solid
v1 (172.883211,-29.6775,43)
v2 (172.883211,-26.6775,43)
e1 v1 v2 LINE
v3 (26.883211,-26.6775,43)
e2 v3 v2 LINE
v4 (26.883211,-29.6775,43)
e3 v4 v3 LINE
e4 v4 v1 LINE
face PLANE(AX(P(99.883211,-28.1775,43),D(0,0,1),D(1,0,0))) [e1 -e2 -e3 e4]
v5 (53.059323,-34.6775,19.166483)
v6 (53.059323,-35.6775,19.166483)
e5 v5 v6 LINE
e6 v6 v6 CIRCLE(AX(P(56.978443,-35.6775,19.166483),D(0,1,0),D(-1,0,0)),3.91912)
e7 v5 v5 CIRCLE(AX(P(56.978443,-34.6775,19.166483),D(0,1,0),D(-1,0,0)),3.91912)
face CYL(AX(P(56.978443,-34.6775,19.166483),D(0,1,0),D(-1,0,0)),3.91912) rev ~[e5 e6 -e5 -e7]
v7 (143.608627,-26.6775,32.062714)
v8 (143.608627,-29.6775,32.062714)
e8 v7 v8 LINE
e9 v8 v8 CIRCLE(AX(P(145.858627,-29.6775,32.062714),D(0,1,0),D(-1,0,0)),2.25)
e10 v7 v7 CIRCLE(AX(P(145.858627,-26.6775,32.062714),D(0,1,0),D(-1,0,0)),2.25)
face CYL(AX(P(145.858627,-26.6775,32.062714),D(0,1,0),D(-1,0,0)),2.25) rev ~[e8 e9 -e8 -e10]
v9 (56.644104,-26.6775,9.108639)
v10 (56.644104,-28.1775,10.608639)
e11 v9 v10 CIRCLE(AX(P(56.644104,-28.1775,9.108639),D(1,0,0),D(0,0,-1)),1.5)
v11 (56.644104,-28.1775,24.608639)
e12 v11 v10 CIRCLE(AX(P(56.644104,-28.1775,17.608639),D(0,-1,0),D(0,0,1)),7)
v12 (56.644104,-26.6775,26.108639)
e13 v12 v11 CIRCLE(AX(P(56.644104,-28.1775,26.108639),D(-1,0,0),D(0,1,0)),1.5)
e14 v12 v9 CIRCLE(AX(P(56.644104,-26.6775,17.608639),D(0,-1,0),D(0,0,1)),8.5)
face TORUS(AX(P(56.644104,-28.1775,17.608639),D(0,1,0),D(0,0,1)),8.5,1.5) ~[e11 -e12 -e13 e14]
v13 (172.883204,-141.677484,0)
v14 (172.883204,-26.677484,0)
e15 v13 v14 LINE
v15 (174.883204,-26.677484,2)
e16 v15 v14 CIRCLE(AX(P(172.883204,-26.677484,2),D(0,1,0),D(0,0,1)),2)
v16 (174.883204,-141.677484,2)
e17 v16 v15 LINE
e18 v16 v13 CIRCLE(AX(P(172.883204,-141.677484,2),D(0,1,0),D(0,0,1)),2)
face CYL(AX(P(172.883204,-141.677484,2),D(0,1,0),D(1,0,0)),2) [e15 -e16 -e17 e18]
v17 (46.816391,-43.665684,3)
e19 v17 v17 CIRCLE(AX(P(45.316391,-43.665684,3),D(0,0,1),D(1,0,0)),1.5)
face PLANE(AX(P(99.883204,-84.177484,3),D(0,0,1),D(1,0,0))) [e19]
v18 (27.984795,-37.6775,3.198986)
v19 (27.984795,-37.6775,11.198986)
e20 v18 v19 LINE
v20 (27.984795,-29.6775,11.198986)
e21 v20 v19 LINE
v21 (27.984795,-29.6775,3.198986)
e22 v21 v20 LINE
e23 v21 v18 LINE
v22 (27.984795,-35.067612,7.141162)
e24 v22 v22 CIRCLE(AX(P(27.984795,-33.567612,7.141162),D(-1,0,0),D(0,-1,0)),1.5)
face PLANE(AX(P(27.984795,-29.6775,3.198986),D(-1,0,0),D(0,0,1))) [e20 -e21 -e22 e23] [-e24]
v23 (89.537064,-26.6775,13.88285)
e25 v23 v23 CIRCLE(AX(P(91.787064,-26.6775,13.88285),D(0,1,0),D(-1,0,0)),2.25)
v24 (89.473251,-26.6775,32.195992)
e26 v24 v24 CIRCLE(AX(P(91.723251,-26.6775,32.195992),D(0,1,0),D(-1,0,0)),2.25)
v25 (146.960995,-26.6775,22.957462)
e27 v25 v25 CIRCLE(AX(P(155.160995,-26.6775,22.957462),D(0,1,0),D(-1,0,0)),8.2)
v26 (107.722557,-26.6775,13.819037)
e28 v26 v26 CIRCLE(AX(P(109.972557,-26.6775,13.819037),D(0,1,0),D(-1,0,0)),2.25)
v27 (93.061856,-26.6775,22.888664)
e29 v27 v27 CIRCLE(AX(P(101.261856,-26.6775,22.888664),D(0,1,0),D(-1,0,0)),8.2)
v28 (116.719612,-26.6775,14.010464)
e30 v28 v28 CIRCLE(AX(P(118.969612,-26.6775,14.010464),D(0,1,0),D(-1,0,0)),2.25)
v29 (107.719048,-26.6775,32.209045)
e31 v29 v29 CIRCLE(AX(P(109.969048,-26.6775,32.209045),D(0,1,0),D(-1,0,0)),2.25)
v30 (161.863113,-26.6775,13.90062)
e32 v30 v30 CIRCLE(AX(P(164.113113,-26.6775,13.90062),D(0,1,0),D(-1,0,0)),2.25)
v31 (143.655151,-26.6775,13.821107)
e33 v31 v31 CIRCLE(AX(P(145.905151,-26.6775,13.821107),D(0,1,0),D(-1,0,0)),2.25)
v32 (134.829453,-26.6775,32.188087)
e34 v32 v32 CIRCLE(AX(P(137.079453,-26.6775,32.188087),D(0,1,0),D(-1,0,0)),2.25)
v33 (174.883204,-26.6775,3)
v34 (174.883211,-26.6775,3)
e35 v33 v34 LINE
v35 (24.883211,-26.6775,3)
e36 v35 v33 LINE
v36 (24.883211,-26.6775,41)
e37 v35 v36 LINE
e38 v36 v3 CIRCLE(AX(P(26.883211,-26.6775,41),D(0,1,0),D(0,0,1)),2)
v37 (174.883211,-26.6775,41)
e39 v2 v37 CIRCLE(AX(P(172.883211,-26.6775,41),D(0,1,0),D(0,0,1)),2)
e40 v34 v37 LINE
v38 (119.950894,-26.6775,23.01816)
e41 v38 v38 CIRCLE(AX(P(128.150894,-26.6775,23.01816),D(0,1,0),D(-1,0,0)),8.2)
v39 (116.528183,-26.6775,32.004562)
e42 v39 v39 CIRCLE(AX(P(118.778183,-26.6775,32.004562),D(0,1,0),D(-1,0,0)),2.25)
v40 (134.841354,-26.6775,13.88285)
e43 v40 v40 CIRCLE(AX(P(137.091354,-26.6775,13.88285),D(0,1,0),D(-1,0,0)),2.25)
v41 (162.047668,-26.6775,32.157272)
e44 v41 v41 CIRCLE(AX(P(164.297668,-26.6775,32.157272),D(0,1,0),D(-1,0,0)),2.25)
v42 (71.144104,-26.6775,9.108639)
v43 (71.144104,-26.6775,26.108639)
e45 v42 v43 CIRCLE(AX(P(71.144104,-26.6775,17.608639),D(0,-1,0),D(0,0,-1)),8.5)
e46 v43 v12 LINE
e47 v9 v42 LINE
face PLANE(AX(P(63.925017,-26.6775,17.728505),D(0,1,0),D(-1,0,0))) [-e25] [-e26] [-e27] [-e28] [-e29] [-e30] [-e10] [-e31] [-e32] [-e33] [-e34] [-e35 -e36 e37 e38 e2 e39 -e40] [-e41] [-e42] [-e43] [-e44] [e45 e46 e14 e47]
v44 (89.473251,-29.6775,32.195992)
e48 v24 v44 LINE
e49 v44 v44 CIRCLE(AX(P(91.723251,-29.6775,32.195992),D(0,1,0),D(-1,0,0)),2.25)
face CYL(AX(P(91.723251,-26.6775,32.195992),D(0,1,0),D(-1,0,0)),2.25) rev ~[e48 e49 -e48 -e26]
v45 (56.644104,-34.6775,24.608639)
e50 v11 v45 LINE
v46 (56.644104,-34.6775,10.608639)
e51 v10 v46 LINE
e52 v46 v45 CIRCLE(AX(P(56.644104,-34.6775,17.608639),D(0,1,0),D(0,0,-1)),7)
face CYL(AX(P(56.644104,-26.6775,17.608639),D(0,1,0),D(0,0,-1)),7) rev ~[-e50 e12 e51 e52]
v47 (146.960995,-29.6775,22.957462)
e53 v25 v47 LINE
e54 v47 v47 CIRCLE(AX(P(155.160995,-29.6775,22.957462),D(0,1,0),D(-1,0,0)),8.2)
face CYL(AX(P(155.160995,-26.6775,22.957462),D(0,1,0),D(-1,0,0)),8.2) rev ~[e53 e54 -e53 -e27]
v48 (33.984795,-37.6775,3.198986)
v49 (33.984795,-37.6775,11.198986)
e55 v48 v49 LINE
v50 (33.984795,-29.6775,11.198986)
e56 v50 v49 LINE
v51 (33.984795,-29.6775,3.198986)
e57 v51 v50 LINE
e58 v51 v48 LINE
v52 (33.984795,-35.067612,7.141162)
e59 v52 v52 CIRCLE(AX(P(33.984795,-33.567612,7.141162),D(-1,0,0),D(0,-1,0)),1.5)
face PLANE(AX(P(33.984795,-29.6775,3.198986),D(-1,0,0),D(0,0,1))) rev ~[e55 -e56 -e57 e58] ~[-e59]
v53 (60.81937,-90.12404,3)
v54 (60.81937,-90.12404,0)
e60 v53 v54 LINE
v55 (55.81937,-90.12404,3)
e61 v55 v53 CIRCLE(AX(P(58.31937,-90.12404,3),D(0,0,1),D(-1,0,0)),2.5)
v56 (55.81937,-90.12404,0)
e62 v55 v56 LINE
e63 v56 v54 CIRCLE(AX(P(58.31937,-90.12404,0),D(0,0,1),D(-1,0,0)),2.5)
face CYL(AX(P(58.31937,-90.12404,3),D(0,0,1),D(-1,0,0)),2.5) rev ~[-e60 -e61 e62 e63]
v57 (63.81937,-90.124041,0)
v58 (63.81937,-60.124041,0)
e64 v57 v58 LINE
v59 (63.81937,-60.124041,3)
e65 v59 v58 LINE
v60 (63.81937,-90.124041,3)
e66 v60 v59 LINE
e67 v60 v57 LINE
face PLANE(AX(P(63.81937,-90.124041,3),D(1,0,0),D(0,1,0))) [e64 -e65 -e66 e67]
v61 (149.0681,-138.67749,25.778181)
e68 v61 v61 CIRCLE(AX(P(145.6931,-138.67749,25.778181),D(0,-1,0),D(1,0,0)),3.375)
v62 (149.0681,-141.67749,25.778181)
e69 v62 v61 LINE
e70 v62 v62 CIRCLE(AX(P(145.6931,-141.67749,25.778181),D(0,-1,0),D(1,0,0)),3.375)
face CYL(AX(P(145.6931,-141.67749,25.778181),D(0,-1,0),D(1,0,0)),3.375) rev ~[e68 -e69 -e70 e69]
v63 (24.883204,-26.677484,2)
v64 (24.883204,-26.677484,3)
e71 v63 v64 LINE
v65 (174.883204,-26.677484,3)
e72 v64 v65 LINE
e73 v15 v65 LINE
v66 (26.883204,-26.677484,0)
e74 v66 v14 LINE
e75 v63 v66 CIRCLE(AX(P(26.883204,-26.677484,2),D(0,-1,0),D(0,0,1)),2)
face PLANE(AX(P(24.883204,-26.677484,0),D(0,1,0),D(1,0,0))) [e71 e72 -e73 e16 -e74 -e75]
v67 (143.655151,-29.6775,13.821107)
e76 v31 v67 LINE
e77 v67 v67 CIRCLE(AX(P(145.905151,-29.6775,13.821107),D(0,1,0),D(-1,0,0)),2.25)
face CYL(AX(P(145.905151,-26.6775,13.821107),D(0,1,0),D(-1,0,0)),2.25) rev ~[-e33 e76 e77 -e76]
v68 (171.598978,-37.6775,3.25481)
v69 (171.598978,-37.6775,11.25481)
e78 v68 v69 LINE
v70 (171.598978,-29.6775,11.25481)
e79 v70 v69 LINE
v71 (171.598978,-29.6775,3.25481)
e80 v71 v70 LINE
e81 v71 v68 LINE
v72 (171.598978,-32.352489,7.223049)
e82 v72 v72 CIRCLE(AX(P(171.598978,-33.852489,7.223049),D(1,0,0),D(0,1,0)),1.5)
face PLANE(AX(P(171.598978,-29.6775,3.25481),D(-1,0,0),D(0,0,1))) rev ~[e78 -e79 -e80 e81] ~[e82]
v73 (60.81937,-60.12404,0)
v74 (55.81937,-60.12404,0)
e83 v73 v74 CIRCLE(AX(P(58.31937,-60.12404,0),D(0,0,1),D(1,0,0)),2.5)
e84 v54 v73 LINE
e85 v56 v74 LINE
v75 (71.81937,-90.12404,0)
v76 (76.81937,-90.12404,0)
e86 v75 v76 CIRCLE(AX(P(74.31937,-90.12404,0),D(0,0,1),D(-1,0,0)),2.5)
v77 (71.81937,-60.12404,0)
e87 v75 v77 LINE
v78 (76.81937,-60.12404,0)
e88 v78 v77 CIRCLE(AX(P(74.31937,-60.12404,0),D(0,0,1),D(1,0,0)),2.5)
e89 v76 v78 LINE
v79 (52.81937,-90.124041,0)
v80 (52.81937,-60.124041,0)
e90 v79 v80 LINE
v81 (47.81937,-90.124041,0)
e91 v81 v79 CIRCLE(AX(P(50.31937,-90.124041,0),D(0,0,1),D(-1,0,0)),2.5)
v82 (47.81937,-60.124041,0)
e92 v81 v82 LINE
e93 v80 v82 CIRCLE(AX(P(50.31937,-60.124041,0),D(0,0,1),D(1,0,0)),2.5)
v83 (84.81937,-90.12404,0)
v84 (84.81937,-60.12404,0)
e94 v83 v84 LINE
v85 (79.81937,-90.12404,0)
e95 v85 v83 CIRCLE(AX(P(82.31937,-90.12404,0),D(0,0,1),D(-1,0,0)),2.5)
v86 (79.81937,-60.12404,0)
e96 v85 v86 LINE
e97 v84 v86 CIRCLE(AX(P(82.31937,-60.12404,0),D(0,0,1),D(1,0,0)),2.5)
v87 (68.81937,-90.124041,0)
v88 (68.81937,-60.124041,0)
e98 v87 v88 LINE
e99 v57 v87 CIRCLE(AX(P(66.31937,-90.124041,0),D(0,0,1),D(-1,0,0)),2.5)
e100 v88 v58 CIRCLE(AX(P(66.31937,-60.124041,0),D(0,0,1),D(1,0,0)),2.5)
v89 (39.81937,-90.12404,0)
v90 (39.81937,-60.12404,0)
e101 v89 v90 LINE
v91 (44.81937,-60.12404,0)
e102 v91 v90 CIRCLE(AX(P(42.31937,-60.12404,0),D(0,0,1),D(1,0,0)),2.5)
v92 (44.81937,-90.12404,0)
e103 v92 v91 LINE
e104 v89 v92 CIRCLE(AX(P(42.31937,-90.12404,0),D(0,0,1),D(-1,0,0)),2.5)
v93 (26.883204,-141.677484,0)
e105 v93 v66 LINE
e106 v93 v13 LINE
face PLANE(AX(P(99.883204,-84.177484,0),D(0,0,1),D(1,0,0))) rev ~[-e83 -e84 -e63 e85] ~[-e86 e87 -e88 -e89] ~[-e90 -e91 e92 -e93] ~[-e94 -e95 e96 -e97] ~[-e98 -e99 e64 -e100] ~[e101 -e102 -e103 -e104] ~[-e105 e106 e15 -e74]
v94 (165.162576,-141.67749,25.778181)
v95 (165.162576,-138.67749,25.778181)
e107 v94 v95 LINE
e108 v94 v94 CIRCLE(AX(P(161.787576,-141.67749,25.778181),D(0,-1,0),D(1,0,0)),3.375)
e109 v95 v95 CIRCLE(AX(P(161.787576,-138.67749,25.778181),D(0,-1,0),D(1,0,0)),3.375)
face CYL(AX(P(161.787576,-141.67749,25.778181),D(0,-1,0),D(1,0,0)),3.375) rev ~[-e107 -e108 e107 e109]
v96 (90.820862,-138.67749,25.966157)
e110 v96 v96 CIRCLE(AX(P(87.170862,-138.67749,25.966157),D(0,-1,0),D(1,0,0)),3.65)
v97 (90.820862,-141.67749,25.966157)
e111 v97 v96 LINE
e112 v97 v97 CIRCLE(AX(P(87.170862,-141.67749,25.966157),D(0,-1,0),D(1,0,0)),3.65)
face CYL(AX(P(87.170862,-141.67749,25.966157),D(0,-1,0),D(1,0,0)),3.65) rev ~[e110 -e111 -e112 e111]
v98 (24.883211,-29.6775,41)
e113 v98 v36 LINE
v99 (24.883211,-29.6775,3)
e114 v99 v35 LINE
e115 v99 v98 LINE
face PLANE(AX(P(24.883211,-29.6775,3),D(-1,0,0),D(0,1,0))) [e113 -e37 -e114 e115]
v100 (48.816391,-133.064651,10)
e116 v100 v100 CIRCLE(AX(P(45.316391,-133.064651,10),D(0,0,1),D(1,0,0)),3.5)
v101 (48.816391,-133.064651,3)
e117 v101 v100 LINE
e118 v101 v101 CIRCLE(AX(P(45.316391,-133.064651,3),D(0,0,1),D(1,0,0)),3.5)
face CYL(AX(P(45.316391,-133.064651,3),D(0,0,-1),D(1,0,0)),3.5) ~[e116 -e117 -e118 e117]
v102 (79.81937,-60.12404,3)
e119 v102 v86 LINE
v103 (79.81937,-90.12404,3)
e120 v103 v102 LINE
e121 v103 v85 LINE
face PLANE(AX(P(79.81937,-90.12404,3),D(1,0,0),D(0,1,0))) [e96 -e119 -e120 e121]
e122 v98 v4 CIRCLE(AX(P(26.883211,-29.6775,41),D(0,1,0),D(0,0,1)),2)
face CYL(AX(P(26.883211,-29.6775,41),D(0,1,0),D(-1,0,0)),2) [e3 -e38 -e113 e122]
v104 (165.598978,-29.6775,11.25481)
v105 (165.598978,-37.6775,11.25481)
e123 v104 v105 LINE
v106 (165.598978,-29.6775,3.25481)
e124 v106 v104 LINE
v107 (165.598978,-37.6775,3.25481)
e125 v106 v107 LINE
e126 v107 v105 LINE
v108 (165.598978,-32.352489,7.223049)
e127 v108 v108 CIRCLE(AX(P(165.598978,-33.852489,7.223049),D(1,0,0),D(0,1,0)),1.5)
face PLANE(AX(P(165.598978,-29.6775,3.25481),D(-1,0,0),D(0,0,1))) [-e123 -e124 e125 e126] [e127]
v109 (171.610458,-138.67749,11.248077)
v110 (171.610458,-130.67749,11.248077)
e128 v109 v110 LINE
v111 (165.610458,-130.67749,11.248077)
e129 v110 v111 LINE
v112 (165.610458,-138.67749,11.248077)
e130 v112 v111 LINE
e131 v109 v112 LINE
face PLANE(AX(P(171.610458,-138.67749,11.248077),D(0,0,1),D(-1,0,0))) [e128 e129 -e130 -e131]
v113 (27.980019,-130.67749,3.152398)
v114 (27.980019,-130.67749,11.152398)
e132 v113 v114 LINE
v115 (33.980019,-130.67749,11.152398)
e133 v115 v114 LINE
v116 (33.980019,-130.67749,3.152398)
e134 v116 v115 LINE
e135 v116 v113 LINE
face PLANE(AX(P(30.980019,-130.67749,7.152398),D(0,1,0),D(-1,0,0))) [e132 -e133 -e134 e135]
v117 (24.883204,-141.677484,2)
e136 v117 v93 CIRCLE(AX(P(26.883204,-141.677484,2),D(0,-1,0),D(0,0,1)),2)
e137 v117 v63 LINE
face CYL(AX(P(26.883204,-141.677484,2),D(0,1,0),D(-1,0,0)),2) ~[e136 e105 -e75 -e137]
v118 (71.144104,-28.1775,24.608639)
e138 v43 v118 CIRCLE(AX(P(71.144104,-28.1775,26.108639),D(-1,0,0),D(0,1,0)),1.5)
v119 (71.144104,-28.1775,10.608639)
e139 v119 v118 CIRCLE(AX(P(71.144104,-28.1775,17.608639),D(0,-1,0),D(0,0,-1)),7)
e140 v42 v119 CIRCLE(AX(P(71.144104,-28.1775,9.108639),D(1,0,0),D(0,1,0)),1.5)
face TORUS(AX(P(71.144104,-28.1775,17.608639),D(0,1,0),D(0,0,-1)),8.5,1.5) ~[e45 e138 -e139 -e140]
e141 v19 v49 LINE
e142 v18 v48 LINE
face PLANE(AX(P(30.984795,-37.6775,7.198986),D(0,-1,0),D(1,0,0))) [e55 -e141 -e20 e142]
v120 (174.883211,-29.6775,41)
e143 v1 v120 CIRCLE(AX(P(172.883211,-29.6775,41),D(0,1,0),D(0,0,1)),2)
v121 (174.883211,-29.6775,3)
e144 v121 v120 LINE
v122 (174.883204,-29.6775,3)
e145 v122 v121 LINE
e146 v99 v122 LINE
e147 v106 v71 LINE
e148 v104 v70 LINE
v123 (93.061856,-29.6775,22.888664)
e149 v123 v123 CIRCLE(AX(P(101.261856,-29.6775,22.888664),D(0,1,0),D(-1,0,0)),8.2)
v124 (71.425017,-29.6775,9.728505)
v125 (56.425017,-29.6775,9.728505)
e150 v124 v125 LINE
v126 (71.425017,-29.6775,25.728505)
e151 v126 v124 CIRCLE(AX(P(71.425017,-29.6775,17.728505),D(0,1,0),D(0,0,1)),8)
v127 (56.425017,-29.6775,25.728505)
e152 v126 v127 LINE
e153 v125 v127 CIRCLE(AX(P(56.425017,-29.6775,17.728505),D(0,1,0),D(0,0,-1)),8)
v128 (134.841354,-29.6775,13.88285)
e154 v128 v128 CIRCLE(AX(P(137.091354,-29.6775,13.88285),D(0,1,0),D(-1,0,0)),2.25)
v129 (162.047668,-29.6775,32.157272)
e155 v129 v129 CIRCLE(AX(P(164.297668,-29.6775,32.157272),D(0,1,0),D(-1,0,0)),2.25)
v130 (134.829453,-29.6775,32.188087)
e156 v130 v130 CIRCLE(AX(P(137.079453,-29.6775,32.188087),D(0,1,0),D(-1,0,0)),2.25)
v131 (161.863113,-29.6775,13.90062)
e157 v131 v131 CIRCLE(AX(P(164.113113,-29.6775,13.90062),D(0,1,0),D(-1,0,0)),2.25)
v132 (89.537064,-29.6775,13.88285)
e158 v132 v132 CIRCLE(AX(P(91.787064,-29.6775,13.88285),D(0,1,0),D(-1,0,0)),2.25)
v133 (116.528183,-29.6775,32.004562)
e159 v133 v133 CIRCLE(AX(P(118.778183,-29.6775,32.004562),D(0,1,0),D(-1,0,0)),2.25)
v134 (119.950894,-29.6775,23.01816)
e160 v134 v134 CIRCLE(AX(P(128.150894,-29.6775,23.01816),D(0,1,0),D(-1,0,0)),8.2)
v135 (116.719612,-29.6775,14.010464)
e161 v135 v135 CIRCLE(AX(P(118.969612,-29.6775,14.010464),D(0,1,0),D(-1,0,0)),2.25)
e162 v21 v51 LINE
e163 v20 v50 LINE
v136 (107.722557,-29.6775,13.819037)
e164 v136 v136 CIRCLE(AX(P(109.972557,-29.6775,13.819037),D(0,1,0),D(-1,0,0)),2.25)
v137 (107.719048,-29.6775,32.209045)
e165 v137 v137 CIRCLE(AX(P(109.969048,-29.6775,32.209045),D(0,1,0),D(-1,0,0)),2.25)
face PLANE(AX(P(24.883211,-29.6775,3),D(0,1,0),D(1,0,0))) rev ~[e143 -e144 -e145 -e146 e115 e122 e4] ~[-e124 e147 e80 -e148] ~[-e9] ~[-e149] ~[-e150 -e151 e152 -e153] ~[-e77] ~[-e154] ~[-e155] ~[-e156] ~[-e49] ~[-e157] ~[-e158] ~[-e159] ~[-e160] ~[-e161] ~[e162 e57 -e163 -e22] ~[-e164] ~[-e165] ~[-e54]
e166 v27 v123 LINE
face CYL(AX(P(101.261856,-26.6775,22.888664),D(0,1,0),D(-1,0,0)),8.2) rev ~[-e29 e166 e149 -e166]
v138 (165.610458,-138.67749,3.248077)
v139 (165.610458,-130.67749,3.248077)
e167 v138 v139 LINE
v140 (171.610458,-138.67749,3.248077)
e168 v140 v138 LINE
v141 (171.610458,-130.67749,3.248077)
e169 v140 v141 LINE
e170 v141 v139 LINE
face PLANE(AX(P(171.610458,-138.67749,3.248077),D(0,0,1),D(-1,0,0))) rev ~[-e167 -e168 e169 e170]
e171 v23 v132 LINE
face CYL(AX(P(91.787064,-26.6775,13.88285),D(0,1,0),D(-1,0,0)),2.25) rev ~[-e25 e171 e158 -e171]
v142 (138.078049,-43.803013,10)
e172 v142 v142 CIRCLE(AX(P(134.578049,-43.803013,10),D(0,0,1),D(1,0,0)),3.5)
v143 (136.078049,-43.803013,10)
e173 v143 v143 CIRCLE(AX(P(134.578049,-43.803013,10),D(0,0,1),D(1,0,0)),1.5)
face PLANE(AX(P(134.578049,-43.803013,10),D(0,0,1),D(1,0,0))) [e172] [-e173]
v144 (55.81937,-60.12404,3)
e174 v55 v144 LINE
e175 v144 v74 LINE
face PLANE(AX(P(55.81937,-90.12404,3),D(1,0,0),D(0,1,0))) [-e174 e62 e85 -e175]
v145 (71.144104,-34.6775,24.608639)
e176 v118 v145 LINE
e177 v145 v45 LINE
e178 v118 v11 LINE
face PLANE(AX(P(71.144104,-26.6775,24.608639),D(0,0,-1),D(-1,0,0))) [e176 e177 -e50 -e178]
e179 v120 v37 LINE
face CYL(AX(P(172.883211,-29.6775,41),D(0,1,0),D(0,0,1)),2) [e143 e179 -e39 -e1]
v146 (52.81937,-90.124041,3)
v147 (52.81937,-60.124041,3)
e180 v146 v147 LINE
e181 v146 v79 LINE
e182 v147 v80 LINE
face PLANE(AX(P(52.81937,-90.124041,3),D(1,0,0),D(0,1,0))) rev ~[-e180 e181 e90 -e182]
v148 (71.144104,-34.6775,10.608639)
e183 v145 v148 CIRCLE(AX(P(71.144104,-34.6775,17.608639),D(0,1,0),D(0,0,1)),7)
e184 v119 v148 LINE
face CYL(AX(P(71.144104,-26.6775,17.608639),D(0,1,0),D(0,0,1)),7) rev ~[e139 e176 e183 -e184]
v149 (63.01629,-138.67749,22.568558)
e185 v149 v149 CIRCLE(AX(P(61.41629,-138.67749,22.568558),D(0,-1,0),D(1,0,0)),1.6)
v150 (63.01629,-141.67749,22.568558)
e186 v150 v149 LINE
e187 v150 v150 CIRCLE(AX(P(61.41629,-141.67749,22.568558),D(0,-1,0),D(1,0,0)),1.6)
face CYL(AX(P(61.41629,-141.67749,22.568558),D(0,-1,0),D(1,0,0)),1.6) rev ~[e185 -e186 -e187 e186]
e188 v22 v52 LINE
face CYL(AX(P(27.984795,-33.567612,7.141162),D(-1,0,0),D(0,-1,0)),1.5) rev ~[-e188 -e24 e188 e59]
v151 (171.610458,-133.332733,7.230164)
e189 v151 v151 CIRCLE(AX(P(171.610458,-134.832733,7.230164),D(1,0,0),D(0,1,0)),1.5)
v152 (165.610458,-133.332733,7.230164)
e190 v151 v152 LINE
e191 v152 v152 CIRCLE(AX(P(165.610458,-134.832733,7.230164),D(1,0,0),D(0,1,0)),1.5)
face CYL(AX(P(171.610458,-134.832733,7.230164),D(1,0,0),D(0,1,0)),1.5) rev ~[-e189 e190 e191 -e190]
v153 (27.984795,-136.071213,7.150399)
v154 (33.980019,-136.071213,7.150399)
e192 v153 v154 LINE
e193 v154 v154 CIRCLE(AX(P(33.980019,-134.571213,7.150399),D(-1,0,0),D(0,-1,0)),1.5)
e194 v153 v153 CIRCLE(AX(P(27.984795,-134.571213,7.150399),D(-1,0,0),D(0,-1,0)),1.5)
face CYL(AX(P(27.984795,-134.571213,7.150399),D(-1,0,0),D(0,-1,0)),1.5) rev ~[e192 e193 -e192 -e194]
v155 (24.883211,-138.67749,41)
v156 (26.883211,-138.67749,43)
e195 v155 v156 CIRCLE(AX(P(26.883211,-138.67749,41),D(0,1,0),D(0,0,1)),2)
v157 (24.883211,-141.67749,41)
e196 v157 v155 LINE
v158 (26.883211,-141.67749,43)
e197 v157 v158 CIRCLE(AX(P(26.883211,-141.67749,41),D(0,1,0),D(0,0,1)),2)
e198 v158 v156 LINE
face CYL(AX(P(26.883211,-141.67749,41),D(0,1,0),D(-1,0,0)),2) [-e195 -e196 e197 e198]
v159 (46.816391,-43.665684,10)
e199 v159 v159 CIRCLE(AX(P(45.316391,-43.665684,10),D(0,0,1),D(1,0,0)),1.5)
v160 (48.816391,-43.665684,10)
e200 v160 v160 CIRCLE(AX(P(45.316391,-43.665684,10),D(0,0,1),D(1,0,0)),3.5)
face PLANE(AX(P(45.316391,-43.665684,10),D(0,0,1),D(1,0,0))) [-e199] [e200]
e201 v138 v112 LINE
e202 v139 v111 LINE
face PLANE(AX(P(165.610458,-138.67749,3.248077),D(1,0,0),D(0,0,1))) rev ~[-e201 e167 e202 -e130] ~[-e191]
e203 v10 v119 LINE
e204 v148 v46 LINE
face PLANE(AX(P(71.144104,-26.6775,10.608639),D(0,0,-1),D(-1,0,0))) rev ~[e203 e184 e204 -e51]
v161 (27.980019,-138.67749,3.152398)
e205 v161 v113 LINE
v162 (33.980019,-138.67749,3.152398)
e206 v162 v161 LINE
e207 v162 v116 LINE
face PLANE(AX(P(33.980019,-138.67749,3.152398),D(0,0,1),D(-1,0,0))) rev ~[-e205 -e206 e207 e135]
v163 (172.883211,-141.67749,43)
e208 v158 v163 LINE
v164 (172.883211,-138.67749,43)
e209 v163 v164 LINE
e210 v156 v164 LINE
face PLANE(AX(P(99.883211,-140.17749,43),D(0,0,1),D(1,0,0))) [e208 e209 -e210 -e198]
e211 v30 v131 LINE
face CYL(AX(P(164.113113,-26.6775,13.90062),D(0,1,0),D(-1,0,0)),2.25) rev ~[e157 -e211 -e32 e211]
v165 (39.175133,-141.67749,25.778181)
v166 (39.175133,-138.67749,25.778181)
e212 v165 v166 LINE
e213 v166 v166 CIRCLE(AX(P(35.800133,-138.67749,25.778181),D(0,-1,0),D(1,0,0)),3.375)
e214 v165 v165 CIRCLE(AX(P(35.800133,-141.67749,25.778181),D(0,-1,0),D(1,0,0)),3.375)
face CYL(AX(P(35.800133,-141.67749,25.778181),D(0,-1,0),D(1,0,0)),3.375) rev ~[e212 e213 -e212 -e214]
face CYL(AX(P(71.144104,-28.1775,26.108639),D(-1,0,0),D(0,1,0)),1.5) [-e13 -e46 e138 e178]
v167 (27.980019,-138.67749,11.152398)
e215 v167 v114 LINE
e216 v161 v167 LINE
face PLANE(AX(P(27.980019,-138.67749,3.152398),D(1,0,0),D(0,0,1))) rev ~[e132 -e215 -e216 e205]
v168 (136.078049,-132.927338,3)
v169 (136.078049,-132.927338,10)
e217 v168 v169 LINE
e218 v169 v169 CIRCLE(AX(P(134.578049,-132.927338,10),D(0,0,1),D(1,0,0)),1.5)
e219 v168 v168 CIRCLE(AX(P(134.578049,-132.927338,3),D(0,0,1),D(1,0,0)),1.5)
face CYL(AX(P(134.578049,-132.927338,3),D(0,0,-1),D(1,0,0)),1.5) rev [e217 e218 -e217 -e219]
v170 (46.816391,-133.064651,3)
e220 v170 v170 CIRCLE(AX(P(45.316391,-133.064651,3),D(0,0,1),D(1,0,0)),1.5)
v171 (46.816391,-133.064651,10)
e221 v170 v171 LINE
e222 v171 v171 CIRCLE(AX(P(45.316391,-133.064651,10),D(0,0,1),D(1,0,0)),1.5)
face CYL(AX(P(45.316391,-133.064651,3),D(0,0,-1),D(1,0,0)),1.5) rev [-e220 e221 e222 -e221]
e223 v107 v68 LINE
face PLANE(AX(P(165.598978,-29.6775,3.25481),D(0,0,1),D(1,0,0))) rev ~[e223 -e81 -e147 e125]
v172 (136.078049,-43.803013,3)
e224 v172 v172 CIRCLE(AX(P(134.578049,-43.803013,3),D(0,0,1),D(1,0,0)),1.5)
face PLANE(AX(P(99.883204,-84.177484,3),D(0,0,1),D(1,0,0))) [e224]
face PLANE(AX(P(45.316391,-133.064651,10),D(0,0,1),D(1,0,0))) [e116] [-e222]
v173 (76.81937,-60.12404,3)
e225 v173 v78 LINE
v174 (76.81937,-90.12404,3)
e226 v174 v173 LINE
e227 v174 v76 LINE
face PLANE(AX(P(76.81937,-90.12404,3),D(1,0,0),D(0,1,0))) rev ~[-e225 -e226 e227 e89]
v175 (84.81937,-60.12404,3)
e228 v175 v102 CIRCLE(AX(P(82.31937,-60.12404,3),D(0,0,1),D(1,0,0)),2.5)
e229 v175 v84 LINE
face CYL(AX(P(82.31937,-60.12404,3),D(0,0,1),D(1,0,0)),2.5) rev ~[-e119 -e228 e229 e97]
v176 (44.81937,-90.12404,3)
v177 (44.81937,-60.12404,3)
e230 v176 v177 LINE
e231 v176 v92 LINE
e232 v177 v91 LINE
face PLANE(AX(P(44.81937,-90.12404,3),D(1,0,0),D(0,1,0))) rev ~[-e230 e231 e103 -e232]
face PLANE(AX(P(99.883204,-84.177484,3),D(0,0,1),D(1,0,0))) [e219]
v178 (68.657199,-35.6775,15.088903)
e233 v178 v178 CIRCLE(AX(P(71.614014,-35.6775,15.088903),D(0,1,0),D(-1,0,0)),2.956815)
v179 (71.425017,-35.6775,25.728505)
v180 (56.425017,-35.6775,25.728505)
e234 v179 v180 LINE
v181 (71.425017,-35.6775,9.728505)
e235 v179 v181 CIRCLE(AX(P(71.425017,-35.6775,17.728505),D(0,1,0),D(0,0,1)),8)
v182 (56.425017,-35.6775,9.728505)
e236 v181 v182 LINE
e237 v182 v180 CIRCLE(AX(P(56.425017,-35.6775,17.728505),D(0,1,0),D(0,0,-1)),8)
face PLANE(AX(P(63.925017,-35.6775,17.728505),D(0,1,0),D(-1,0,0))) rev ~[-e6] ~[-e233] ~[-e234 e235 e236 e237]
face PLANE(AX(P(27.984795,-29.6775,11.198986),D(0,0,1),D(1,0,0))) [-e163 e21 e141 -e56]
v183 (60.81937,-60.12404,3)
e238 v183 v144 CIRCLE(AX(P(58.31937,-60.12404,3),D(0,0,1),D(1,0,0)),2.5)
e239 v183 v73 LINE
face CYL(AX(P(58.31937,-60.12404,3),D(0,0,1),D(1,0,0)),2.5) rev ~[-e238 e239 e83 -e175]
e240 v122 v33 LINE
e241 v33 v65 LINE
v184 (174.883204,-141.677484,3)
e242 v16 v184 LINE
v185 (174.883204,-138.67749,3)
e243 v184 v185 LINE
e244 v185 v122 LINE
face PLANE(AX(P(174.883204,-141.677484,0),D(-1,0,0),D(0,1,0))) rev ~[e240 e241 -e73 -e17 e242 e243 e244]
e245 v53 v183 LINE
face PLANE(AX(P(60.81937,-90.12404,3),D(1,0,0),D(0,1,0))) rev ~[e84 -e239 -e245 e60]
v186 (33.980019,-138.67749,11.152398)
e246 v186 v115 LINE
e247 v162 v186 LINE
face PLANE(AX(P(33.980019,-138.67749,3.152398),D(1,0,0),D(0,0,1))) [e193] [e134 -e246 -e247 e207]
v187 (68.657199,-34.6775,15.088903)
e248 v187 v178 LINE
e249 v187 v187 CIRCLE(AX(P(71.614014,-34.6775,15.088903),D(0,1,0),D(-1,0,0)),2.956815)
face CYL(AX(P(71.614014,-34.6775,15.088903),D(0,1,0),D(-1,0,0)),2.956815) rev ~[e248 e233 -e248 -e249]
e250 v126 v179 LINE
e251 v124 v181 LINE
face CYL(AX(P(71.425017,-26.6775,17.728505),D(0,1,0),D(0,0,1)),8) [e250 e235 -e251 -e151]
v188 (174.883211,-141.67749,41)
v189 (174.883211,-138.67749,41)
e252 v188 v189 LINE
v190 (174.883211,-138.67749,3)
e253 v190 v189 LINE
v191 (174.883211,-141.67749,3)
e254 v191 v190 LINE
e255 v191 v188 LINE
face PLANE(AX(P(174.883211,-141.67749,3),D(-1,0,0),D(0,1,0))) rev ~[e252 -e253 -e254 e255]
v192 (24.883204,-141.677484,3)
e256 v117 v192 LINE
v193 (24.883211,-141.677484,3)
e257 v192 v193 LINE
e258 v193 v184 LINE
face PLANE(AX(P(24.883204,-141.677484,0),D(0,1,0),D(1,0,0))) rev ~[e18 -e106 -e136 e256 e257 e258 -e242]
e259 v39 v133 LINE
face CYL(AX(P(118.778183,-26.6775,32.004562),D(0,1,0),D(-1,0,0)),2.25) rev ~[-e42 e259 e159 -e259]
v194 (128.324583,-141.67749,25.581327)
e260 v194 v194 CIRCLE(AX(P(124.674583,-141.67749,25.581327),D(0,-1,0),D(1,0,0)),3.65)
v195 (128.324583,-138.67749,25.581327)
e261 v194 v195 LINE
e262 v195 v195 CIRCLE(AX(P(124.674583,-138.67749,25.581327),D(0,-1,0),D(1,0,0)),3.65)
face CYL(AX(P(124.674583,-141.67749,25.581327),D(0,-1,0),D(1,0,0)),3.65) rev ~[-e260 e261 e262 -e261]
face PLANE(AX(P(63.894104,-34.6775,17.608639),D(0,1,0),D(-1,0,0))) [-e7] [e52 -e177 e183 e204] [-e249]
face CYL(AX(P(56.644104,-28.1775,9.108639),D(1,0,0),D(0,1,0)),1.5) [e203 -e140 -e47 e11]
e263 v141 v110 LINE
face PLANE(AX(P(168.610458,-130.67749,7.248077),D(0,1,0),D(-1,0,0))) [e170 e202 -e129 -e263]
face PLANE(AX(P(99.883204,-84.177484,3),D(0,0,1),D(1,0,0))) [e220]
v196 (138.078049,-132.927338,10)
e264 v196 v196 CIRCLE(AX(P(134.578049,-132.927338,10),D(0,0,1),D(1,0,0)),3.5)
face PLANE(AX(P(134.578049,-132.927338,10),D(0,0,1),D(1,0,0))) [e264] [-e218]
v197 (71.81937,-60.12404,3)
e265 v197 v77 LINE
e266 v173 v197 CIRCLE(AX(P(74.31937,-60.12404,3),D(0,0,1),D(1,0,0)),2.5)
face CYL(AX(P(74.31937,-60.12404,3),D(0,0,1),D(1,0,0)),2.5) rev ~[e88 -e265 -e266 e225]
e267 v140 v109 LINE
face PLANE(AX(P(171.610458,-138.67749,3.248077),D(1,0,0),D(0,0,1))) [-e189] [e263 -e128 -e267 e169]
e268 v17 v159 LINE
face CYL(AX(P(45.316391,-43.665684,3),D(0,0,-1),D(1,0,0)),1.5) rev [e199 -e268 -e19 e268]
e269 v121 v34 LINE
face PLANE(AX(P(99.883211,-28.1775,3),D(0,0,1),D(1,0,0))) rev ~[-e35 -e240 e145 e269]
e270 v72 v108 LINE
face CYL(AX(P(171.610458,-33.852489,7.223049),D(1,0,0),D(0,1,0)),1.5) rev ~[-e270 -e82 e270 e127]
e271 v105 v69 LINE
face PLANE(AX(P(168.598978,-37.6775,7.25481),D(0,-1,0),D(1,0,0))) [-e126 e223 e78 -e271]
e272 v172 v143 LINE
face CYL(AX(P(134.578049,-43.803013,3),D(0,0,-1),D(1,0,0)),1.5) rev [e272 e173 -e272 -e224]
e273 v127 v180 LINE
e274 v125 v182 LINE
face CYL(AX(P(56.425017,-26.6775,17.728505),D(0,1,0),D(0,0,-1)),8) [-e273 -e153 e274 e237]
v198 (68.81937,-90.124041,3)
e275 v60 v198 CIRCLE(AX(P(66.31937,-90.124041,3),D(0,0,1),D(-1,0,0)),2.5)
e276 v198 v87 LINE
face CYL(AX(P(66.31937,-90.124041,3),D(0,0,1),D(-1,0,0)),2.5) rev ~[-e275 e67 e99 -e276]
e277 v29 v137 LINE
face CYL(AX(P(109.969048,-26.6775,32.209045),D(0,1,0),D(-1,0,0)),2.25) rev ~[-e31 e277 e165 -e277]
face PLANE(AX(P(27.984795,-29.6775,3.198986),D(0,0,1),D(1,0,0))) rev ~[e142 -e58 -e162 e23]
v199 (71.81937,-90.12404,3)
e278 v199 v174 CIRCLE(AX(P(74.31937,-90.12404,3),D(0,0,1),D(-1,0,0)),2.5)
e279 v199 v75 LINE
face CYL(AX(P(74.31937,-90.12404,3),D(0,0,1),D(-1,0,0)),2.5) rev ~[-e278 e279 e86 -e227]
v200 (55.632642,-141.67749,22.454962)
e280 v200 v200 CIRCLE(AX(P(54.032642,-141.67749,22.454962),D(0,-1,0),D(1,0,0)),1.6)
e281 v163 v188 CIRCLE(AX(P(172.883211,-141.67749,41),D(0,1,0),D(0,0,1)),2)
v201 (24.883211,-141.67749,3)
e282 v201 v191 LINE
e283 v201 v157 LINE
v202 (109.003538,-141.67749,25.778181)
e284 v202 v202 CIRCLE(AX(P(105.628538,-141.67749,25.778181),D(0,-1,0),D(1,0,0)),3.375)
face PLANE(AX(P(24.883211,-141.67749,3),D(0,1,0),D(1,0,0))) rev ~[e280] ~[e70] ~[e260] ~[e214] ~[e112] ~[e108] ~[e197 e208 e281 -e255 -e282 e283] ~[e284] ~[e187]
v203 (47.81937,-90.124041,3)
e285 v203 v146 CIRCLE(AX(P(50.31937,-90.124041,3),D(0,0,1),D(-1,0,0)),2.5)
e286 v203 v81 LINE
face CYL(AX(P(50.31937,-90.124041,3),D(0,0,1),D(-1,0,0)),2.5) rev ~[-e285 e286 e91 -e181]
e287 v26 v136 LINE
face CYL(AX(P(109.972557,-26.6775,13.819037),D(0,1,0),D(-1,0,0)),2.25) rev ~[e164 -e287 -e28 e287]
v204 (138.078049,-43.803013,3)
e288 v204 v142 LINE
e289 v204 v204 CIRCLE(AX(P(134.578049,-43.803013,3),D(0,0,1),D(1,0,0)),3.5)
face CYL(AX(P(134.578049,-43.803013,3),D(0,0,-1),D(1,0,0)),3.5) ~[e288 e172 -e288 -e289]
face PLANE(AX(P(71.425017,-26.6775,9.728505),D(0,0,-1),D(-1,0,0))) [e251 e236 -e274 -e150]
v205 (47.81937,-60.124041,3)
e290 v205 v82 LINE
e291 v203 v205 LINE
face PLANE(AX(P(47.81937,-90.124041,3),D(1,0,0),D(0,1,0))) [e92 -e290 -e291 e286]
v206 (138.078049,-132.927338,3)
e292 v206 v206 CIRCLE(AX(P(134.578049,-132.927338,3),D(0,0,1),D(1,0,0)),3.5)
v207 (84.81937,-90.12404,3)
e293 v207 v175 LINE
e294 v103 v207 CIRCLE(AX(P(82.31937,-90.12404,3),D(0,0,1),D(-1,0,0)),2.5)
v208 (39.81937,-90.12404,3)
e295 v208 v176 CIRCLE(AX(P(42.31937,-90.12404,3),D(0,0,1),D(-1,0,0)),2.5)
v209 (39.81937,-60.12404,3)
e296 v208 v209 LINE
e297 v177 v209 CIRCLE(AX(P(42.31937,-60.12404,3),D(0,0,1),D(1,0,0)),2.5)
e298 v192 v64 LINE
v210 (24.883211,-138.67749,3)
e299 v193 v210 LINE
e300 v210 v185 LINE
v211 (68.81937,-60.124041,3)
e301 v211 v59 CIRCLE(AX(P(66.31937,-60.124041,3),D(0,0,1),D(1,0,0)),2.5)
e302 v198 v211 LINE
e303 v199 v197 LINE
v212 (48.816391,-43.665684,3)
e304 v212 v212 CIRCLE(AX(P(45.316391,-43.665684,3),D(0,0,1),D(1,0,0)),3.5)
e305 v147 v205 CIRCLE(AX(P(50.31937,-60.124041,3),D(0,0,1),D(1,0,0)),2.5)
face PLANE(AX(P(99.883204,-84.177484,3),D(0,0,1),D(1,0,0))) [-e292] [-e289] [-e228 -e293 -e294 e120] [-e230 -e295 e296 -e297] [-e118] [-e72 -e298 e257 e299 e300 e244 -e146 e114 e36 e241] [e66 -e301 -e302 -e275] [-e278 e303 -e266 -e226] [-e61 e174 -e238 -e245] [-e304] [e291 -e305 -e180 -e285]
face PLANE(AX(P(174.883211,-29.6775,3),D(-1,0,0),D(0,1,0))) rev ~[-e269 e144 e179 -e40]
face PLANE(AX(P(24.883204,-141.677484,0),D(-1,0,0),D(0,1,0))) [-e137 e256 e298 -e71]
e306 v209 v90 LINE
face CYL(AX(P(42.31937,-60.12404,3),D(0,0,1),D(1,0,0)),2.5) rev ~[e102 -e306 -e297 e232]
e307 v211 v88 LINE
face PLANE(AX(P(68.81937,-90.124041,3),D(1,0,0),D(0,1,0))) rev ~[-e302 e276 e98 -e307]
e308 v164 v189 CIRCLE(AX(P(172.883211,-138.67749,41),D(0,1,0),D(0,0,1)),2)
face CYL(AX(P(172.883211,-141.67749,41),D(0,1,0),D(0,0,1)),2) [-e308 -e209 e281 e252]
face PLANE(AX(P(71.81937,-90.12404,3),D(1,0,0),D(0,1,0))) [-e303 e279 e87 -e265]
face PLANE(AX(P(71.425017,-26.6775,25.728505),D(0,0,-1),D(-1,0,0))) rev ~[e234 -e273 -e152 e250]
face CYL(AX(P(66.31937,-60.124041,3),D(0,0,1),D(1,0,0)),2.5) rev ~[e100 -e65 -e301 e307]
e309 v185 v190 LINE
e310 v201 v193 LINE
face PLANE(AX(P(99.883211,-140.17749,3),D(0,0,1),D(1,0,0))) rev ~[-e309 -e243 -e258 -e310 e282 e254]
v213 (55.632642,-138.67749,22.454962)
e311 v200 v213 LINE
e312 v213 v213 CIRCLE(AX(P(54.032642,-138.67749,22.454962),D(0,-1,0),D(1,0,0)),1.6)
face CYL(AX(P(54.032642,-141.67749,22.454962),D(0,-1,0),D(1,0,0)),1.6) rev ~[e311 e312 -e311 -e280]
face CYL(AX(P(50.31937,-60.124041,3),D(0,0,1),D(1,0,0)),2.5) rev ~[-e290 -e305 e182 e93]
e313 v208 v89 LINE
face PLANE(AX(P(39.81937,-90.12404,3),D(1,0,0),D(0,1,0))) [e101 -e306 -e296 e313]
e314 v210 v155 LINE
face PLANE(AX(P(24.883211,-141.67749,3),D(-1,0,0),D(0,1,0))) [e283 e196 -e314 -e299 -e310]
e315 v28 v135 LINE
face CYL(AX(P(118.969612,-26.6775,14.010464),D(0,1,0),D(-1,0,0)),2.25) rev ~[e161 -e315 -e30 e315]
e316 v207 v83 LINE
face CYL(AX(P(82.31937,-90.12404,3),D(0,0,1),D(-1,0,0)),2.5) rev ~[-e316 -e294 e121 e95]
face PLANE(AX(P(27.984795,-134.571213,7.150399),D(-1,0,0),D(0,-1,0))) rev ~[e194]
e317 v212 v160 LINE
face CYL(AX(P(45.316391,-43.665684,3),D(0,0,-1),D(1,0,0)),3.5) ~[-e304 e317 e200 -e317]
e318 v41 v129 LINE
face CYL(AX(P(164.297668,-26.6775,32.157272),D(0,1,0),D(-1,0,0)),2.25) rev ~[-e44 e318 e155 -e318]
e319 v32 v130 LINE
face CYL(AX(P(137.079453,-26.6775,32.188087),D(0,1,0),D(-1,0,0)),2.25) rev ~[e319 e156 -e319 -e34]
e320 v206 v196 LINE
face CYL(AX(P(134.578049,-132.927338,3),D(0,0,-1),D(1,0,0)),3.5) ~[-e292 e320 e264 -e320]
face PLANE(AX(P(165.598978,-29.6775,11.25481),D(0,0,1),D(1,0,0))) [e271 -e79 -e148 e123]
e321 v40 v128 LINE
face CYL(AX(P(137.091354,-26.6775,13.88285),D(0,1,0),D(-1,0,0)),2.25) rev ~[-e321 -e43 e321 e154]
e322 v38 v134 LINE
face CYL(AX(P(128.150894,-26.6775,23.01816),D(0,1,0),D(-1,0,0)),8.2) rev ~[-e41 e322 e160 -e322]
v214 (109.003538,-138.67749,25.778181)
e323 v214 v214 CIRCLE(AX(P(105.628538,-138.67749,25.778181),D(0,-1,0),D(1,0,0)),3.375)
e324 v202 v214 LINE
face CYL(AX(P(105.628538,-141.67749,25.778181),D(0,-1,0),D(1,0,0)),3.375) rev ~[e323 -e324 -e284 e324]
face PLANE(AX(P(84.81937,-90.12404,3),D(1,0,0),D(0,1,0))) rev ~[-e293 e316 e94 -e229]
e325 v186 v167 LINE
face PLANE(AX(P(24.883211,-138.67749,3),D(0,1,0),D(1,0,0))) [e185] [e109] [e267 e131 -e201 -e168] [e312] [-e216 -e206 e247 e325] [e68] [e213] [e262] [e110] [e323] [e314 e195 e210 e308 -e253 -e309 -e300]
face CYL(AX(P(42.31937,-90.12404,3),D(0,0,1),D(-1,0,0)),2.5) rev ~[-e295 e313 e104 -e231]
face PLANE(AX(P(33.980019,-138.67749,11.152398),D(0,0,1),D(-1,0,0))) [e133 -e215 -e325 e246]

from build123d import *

# Parameters (mm, degrees)
SKETCH_W        = 150
SKETCH_H        = 115
PAD_DEPTH       = 3
SKETCH001_W     = 150
SKETCH001_H     = 3
PAD001_DEPTH    = 40
SKETCH002_R     = 3.5
SKETCH002_R_2   = 1.5
PAD002_DEPTH    = 7
SKETCH003_R     = 8.2
SKETCH003_R_2   = 2.25
POCKET_DEPTH    = 5
SKETCH004_R     = 3.65
SKETCH004_R_2   = 1.6
POCKET001_DEPTH = 5
PAD003_DEPTH    = 9
POCKET002_DEPTH = 8
SKETCH007_R     = 2.956815
SKETCH007_R_2   = 3.91912
POCKET003_DEPTH = 5
SKETCH008_R     = 3.375
POCKET004_DEPTH = 5
POCKET005_DEPTH = 5
SKETCH012_W     = 6
SKETCH012_H     = 8
PAD006_DEPTH    = 8
SKETCH013_W     = 6
SKETCH013_H     = 8
PAD007_DEPTH    = 8
SKETCH016_R     = 1.5
POCKET008_DEPTH = 10
SKETCH017_R     = 1.5
POCKET009_DEPTH = 10
FILLET001_R     = 2
FILLET002_R     = 1.5


with BuildPart() as part:
    # Sketch → Pad (new body)
    with BuildSketch(Plane.XY):
        with Locations((99.883204, -84.177484)):
            Rectangle(SKETCH_W, SKETCH_H)
    extrude(amount=PAD_DEPTH)

    # Sketch001 (on Face6 of Pad) → Pad001 (join)
    with BuildSketch(Plane.XY.offset(3)):
        with Locations((99.883211, -140.17749)):
            Rectangle(SKETCH001_W, SKETCH001_H)
        with Locations((99.883211, -28.1775)):
            Rectangle(SKETCH001_W, SKETCH001_H)
    extrude(amount=PAD001_DEPTH)

    # Sketch002 (on Face5 of Pad001) → Pad002 (join)
    with BuildSketch(Plane.XY.offset(3)):
        with Locations((45.316391, -43.665684)):
            Circle(SKETCH002_R)
        with Locations((45.316391, -43.665684)):
            Circle(SKETCH002_R_2, mode=Mode.SUBTRACT)
        with Locations((134.578049, -43.803013)):
            Circle(SKETCH002_R)
        with Locations((134.578049, -43.803013)):
            Circle(SKETCH002_R_2, mode=Mode.SUBTRACT)
        with Locations((45.316391, -133.064651)):
            Circle(SKETCH002_R)
        with Locations((45.316391, -133.064651)):
            Circle(SKETCH002_R_2, mode=Mode.SUBTRACT)
        with Locations((134.578049, -132.927338)):
            Circle(SKETCH002_R)
        with Locations((134.578049, -132.927338)):
            Circle(SKETCH002_R_2, mode=Mode.SUBTRACT)
    extrude(amount=PAD002_DEPTH)

    # Sketch003 (on Face8 of Pad002) → Pocket (cut)
    with BuildSketch(Plane(origin=(0, -26.6775, 0), x_dir=(-1, 0, 0), z_dir=(0, 1, 0))):
        with Locations((-155.160995, 22.957462)):
            Circle(SKETCH003_R)
        with Locations((-128.150894, 23.01816)):
            Circle(SKETCH003_R)
        with Locations((-164.297668, 32.157272)):
            Circle(SKETCH003_R_2)
        with Locations((-145.858627, 32.062714)):
            Circle(SKETCH003_R_2)
        with Locations((-164.113113, 13.90062)):
            Circle(SKETCH003_R_2)
        with Locations((-145.905151, 13.821107)):
            Circle(SKETCH003_R_2)
        with Locations((-137.079453, 32.188087)):
            Circle(SKETCH003_R_2)
        with Locations((-137.091354, 13.88285)):
            Circle(SKETCH003_R_2)
        with Locations((-118.778183, 32.004562)):
            Circle(SKETCH003_R_2)
        with Locations((-118.969612, 14.010464)):
            Circle(SKETCH003_R_2)
        with Locations((-109.972557, 13.819037)):
            Circle(SKETCH003_R_2)
        with Locations((-109.969048, 32.209045)):
            Circle(SKETCH003_R_2)
        with Locations((-91.723251, 32.195992)):
            Circle(SKETCH003_R_2)
        with Locations((-91.787064, 13.88285)):
            Circle(SKETCH003_R_2)
        with Locations((-101.261856, 22.888664)):
            Circle(SKETCH003_R)
    extrude(amount=-POCKET_DEPTH, mode=Mode.SUBTRACT)

    # Sketch004 (on Face19 of Pocket) → Pocket001 (cut)
    with BuildSketch(Plane.XZ.offset(141.67749)):
        with Locations((87.170862, 25.966157)):
            Circle(SKETCH004_R)
        with Locations((124.674583, 25.581327)):
            Circle(SKETCH004_R)
        with Locations((61.41629, 22.568558)):
            Circle(SKETCH004_R_2)
        with Locations((54.032642, 22.454962)):
            Circle(SKETCH004_R_2)
    extrude(amount=-POCKET001_DEPTH, mode=Mode.SUBTRACT)

    # Sketch005 (on Face8 of Pocket001) → Pad003 (join)
    with BuildSketch(Plane(origin=(0, -26.6775, 0), x_dir=(-1, 0, 0), z_dir=(0, 1, 0))):
        with BuildLine():
            ThreePointArc((-71.425017, 25.728505), (-79.425017, 17.728505), (-71.425017, 9.728505))
            Line((-71.425017, 9.728505), (-56.425017, 9.728505))
            ThreePointArc((-56.425017, 9.728505), (-48.425017, 17.728505), (-56.425017, 25.728505))
            Line((-71.425017, 25.728505), (-56.425017, 25.728505))
        make_face()
    extrude(amount=-PAD003_DEPTH)

    # Sketch006 (on Face58 of Pad003) → Pocket002 (cut)
    with BuildSketch(Plane(origin=(0, -26.6775, 0), x_dir=(-1, 0, 0), z_dir=(0, 1, 0))):
        with BuildLine():
            ThreePointArc((-71.144104, 24.608639), (-78.144104, 17.608639), (-71.144104, 10.608639))
            Line((-71.144104, 10.608639), (-56.644104, 10.608639))
            ThreePointArc((-56.644104, 10.608639), (-49.644104, 17.608639), (-56.644104, 24.608639))
            Line((-71.144104, 24.608639), (-56.644104, 24.608639))
        make_face()
    extrude(amount=-POCKET002_DEPTH, mode=Mode.SUBTRACT)

    # Sketch007 (on Face54 of Pocket002) → Pocket003 (cut)
    with BuildSketch(Plane(origin=(0, -34.6775, 0), x_dir=(-1, 0, 0), z_dir=(0, 1, 0))):
        with Locations((-71.614014, 15.088903)):
            Circle(SKETCH007_R)
        with Locations((-56.978443, 19.166483)):
            Circle(SKETCH007_R_2)
    extrude(amount=-POCKET003_DEPTH, mode=Mode.SUBTRACT)

    # Sketch008 (on Face19 of Pocket003) → Pocket004 (cut)
    with BuildSketch(Plane.XZ.offset(141.67749)):
        with Locations((161.787576, 25.778181)):
            Circle(SKETCH008_R)
        with Locations((35.800133, 25.778181)):
            Circle(SKETCH008_R)
        with Locations((105.628538, 25.778181)):
            Circle(SKETCH008_R)
        with Locations((145.6931, 25.778181)):
            Circle(SKETCH008_R)
    extrude(amount=-POCKET004_DEPTH, mode=Mode.SUBTRACT)

    # Sketch009 (on Face5 of Pocket004) → Pocket005 (cut)
    with BuildSketch(Plane.XY.offset(3)):
        with BuildLine():
            ThreePointArc((39.81937, -90.12404), (42.31937, -92.62404), (44.81937, -90.12404))
            Line((44.81937, -90.12404), (44.81937, -60.12404))
            ThreePointArc((44.81937, -60.12404), (42.31937, -57.62404), (39.81937, -60.12404))
            Line((39.81937, -90.12404), (39.81937, -60.12404))
        make_face()
        with BuildLine():
            ThreePointArc((47.81937, -90.124041), (50.31937, -92.624041), (52.81937, -90.124041))
            Line((52.81937, -90.124041), (52.81937, -60.124041))
            ThreePointArc((52.81937, -60.124041), (50.31937, -57.624041), (47.81937, -60.124041))
            Line((47.81937, -90.124041), (47.81937, -60.124041))
        make_face()
        with BuildLine():
            ThreePointArc((55.81937, -90.12404), (58.31937, -92.62404), (60.81937, -90.12404))
            Line((60.81937, -90.12404), (60.81937, -60.12404))
            ThreePointArc((60.81937, -60.12404), (58.31937, -57.62404), (55.81937, -60.12404))
            Line((55.81937, -90.12404), (55.81937, -60.12404))
        make_face()
        with BuildLine():
            ThreePointArc((63.81937, -90.124041), (66.31937, -92.624041), (68.81937, -90.124041))
            Line((68.81937, -90.124041), (68.81937, -60.124041))
            ThreePointArc((68.81937, -60.124041), (66.31937, -57.624041), (63.81937, -60.124041))
            Line((63.81937, -90.124041), (63.81937, -60.124041))
        make_face()
        with BuildLine():
            ThreePointArc((71.81937, -90.12404), (74.31937, -92.62404), (76.81937, -90.12404))
            Line((76.81937, -90.12404), (76.81937, -60.12404))
            ThreePointArc((76.81937, -60.12404), (74.31937, -57.62404), (71.81937, -60.12404))
            Line((71.81937, -90.12404), (71.81937, -60.12404))
        make_face()
        with BuildLine():
            ThreePointArc((79.81937, -90.12404), (82.31937, -92.62404), (84.81937, -90.12404))
            Line((84.81937, -90.12404), (84.81937, -60.12404))
            ThreePointArc((84.81937, -60.12404), (82.31937, -57.62404), (79.81937, -60.12404))
            Line((79.81937, -90.12404), (79.81937, -60.12404))
        make_face()
    extrude(amount=-POCKET005_DEPTH, mode=Mode.SUBTRACT)

    # Sketch012 (on Face35 of Pocket005) → Pad006 (join)
    with BuildSketch(Plane.XZ.offset(29.6775)):
        with Locations((168.598978, 7.25481)):
            Rectangle(SKETCH012_W, SKETCH012_H)
        with Locations((30.984795, 7.198986)):
            Rectangle(SKETCH012_W, SKETCH012_H)
    extrude(amount=PAD006_DEPTH)

    # Sketch013 (on Face36 of Pad006) → Pad007 (join)
    with BuildSketch(Plane(origin=(0, -138.67749, 0), x_dir=(-1, 0, 0), z_dir=(0, 1, 0))):
        with Locations((-30.980019, 7.152398)):
            Rectangle(SKETCH013_W, SKETCH013_H)
        with Locations((-168.610458, 7.248077)):
            Rectangle(SKETCH013_W, SKETCH013_H)
    extrude(amount=PAD007_DEPTH)

    # Sketch016 (on Face73 of Pad007) → Pocket008 (cut)
    with BuildSketch(Plane(origin=(27.984795, 0, 0), x_dir=(0, -1, 0), z_dir=(-1, 0, 0))):
        with Locations((33.567612, 7.141162)):
            Circle(SKETCH016_R)
        with Locations((134.571213, 7.150399)):
            Circle(SKETCH016_R)
    extrude(amount=-POCKET008_DEPTH, mode=Mode.SUBTRACT)

    # Sketch017 (on Face89 of Pocket008) → Pocket009 (cut)
    with BuildSketch(Plane.YZ.offset(171.610458)):
        with Locations((-134.832733, 7.230164)):
            Circle(SKETCH017_R)
        with Locations((-33.852489, 7.223049)):
            Circle(SKETCH017_R)
    extrude(amount=-POCKET009_DEPTH, mode=Mode.SUBTRACT)

    # Fillet001
    fillet001_edges = [part.edges().sort_by_distance(p)[0] for p in [
        (24.883204, -84.177484, 0),
        (24.883211, -28.1775, 43),
        (24.883211, -140.17749, 43),
        (174.883211, -140.17749, 43),
        (174.883204, -84.177484, 0),
        (174.883211, -28.1775, 43),
    ]]
    fillet(fillet001_edges, radius=FILLET001_R)

    # Fillet002
    fillet002_edges = [part.edges().sort_by_distance(p)[0] for p in [
        (63.894104, -26.6775, 24.608639),
        (49.644104, -26.6775, 17.608639),
        (63.894104, -26.6775, 10.608639),
        (78.144104, -26.6775, 17.608639),
    ]]
    fillet(fillet002_edges, radius=FILLET002_R)


solid = part.part
